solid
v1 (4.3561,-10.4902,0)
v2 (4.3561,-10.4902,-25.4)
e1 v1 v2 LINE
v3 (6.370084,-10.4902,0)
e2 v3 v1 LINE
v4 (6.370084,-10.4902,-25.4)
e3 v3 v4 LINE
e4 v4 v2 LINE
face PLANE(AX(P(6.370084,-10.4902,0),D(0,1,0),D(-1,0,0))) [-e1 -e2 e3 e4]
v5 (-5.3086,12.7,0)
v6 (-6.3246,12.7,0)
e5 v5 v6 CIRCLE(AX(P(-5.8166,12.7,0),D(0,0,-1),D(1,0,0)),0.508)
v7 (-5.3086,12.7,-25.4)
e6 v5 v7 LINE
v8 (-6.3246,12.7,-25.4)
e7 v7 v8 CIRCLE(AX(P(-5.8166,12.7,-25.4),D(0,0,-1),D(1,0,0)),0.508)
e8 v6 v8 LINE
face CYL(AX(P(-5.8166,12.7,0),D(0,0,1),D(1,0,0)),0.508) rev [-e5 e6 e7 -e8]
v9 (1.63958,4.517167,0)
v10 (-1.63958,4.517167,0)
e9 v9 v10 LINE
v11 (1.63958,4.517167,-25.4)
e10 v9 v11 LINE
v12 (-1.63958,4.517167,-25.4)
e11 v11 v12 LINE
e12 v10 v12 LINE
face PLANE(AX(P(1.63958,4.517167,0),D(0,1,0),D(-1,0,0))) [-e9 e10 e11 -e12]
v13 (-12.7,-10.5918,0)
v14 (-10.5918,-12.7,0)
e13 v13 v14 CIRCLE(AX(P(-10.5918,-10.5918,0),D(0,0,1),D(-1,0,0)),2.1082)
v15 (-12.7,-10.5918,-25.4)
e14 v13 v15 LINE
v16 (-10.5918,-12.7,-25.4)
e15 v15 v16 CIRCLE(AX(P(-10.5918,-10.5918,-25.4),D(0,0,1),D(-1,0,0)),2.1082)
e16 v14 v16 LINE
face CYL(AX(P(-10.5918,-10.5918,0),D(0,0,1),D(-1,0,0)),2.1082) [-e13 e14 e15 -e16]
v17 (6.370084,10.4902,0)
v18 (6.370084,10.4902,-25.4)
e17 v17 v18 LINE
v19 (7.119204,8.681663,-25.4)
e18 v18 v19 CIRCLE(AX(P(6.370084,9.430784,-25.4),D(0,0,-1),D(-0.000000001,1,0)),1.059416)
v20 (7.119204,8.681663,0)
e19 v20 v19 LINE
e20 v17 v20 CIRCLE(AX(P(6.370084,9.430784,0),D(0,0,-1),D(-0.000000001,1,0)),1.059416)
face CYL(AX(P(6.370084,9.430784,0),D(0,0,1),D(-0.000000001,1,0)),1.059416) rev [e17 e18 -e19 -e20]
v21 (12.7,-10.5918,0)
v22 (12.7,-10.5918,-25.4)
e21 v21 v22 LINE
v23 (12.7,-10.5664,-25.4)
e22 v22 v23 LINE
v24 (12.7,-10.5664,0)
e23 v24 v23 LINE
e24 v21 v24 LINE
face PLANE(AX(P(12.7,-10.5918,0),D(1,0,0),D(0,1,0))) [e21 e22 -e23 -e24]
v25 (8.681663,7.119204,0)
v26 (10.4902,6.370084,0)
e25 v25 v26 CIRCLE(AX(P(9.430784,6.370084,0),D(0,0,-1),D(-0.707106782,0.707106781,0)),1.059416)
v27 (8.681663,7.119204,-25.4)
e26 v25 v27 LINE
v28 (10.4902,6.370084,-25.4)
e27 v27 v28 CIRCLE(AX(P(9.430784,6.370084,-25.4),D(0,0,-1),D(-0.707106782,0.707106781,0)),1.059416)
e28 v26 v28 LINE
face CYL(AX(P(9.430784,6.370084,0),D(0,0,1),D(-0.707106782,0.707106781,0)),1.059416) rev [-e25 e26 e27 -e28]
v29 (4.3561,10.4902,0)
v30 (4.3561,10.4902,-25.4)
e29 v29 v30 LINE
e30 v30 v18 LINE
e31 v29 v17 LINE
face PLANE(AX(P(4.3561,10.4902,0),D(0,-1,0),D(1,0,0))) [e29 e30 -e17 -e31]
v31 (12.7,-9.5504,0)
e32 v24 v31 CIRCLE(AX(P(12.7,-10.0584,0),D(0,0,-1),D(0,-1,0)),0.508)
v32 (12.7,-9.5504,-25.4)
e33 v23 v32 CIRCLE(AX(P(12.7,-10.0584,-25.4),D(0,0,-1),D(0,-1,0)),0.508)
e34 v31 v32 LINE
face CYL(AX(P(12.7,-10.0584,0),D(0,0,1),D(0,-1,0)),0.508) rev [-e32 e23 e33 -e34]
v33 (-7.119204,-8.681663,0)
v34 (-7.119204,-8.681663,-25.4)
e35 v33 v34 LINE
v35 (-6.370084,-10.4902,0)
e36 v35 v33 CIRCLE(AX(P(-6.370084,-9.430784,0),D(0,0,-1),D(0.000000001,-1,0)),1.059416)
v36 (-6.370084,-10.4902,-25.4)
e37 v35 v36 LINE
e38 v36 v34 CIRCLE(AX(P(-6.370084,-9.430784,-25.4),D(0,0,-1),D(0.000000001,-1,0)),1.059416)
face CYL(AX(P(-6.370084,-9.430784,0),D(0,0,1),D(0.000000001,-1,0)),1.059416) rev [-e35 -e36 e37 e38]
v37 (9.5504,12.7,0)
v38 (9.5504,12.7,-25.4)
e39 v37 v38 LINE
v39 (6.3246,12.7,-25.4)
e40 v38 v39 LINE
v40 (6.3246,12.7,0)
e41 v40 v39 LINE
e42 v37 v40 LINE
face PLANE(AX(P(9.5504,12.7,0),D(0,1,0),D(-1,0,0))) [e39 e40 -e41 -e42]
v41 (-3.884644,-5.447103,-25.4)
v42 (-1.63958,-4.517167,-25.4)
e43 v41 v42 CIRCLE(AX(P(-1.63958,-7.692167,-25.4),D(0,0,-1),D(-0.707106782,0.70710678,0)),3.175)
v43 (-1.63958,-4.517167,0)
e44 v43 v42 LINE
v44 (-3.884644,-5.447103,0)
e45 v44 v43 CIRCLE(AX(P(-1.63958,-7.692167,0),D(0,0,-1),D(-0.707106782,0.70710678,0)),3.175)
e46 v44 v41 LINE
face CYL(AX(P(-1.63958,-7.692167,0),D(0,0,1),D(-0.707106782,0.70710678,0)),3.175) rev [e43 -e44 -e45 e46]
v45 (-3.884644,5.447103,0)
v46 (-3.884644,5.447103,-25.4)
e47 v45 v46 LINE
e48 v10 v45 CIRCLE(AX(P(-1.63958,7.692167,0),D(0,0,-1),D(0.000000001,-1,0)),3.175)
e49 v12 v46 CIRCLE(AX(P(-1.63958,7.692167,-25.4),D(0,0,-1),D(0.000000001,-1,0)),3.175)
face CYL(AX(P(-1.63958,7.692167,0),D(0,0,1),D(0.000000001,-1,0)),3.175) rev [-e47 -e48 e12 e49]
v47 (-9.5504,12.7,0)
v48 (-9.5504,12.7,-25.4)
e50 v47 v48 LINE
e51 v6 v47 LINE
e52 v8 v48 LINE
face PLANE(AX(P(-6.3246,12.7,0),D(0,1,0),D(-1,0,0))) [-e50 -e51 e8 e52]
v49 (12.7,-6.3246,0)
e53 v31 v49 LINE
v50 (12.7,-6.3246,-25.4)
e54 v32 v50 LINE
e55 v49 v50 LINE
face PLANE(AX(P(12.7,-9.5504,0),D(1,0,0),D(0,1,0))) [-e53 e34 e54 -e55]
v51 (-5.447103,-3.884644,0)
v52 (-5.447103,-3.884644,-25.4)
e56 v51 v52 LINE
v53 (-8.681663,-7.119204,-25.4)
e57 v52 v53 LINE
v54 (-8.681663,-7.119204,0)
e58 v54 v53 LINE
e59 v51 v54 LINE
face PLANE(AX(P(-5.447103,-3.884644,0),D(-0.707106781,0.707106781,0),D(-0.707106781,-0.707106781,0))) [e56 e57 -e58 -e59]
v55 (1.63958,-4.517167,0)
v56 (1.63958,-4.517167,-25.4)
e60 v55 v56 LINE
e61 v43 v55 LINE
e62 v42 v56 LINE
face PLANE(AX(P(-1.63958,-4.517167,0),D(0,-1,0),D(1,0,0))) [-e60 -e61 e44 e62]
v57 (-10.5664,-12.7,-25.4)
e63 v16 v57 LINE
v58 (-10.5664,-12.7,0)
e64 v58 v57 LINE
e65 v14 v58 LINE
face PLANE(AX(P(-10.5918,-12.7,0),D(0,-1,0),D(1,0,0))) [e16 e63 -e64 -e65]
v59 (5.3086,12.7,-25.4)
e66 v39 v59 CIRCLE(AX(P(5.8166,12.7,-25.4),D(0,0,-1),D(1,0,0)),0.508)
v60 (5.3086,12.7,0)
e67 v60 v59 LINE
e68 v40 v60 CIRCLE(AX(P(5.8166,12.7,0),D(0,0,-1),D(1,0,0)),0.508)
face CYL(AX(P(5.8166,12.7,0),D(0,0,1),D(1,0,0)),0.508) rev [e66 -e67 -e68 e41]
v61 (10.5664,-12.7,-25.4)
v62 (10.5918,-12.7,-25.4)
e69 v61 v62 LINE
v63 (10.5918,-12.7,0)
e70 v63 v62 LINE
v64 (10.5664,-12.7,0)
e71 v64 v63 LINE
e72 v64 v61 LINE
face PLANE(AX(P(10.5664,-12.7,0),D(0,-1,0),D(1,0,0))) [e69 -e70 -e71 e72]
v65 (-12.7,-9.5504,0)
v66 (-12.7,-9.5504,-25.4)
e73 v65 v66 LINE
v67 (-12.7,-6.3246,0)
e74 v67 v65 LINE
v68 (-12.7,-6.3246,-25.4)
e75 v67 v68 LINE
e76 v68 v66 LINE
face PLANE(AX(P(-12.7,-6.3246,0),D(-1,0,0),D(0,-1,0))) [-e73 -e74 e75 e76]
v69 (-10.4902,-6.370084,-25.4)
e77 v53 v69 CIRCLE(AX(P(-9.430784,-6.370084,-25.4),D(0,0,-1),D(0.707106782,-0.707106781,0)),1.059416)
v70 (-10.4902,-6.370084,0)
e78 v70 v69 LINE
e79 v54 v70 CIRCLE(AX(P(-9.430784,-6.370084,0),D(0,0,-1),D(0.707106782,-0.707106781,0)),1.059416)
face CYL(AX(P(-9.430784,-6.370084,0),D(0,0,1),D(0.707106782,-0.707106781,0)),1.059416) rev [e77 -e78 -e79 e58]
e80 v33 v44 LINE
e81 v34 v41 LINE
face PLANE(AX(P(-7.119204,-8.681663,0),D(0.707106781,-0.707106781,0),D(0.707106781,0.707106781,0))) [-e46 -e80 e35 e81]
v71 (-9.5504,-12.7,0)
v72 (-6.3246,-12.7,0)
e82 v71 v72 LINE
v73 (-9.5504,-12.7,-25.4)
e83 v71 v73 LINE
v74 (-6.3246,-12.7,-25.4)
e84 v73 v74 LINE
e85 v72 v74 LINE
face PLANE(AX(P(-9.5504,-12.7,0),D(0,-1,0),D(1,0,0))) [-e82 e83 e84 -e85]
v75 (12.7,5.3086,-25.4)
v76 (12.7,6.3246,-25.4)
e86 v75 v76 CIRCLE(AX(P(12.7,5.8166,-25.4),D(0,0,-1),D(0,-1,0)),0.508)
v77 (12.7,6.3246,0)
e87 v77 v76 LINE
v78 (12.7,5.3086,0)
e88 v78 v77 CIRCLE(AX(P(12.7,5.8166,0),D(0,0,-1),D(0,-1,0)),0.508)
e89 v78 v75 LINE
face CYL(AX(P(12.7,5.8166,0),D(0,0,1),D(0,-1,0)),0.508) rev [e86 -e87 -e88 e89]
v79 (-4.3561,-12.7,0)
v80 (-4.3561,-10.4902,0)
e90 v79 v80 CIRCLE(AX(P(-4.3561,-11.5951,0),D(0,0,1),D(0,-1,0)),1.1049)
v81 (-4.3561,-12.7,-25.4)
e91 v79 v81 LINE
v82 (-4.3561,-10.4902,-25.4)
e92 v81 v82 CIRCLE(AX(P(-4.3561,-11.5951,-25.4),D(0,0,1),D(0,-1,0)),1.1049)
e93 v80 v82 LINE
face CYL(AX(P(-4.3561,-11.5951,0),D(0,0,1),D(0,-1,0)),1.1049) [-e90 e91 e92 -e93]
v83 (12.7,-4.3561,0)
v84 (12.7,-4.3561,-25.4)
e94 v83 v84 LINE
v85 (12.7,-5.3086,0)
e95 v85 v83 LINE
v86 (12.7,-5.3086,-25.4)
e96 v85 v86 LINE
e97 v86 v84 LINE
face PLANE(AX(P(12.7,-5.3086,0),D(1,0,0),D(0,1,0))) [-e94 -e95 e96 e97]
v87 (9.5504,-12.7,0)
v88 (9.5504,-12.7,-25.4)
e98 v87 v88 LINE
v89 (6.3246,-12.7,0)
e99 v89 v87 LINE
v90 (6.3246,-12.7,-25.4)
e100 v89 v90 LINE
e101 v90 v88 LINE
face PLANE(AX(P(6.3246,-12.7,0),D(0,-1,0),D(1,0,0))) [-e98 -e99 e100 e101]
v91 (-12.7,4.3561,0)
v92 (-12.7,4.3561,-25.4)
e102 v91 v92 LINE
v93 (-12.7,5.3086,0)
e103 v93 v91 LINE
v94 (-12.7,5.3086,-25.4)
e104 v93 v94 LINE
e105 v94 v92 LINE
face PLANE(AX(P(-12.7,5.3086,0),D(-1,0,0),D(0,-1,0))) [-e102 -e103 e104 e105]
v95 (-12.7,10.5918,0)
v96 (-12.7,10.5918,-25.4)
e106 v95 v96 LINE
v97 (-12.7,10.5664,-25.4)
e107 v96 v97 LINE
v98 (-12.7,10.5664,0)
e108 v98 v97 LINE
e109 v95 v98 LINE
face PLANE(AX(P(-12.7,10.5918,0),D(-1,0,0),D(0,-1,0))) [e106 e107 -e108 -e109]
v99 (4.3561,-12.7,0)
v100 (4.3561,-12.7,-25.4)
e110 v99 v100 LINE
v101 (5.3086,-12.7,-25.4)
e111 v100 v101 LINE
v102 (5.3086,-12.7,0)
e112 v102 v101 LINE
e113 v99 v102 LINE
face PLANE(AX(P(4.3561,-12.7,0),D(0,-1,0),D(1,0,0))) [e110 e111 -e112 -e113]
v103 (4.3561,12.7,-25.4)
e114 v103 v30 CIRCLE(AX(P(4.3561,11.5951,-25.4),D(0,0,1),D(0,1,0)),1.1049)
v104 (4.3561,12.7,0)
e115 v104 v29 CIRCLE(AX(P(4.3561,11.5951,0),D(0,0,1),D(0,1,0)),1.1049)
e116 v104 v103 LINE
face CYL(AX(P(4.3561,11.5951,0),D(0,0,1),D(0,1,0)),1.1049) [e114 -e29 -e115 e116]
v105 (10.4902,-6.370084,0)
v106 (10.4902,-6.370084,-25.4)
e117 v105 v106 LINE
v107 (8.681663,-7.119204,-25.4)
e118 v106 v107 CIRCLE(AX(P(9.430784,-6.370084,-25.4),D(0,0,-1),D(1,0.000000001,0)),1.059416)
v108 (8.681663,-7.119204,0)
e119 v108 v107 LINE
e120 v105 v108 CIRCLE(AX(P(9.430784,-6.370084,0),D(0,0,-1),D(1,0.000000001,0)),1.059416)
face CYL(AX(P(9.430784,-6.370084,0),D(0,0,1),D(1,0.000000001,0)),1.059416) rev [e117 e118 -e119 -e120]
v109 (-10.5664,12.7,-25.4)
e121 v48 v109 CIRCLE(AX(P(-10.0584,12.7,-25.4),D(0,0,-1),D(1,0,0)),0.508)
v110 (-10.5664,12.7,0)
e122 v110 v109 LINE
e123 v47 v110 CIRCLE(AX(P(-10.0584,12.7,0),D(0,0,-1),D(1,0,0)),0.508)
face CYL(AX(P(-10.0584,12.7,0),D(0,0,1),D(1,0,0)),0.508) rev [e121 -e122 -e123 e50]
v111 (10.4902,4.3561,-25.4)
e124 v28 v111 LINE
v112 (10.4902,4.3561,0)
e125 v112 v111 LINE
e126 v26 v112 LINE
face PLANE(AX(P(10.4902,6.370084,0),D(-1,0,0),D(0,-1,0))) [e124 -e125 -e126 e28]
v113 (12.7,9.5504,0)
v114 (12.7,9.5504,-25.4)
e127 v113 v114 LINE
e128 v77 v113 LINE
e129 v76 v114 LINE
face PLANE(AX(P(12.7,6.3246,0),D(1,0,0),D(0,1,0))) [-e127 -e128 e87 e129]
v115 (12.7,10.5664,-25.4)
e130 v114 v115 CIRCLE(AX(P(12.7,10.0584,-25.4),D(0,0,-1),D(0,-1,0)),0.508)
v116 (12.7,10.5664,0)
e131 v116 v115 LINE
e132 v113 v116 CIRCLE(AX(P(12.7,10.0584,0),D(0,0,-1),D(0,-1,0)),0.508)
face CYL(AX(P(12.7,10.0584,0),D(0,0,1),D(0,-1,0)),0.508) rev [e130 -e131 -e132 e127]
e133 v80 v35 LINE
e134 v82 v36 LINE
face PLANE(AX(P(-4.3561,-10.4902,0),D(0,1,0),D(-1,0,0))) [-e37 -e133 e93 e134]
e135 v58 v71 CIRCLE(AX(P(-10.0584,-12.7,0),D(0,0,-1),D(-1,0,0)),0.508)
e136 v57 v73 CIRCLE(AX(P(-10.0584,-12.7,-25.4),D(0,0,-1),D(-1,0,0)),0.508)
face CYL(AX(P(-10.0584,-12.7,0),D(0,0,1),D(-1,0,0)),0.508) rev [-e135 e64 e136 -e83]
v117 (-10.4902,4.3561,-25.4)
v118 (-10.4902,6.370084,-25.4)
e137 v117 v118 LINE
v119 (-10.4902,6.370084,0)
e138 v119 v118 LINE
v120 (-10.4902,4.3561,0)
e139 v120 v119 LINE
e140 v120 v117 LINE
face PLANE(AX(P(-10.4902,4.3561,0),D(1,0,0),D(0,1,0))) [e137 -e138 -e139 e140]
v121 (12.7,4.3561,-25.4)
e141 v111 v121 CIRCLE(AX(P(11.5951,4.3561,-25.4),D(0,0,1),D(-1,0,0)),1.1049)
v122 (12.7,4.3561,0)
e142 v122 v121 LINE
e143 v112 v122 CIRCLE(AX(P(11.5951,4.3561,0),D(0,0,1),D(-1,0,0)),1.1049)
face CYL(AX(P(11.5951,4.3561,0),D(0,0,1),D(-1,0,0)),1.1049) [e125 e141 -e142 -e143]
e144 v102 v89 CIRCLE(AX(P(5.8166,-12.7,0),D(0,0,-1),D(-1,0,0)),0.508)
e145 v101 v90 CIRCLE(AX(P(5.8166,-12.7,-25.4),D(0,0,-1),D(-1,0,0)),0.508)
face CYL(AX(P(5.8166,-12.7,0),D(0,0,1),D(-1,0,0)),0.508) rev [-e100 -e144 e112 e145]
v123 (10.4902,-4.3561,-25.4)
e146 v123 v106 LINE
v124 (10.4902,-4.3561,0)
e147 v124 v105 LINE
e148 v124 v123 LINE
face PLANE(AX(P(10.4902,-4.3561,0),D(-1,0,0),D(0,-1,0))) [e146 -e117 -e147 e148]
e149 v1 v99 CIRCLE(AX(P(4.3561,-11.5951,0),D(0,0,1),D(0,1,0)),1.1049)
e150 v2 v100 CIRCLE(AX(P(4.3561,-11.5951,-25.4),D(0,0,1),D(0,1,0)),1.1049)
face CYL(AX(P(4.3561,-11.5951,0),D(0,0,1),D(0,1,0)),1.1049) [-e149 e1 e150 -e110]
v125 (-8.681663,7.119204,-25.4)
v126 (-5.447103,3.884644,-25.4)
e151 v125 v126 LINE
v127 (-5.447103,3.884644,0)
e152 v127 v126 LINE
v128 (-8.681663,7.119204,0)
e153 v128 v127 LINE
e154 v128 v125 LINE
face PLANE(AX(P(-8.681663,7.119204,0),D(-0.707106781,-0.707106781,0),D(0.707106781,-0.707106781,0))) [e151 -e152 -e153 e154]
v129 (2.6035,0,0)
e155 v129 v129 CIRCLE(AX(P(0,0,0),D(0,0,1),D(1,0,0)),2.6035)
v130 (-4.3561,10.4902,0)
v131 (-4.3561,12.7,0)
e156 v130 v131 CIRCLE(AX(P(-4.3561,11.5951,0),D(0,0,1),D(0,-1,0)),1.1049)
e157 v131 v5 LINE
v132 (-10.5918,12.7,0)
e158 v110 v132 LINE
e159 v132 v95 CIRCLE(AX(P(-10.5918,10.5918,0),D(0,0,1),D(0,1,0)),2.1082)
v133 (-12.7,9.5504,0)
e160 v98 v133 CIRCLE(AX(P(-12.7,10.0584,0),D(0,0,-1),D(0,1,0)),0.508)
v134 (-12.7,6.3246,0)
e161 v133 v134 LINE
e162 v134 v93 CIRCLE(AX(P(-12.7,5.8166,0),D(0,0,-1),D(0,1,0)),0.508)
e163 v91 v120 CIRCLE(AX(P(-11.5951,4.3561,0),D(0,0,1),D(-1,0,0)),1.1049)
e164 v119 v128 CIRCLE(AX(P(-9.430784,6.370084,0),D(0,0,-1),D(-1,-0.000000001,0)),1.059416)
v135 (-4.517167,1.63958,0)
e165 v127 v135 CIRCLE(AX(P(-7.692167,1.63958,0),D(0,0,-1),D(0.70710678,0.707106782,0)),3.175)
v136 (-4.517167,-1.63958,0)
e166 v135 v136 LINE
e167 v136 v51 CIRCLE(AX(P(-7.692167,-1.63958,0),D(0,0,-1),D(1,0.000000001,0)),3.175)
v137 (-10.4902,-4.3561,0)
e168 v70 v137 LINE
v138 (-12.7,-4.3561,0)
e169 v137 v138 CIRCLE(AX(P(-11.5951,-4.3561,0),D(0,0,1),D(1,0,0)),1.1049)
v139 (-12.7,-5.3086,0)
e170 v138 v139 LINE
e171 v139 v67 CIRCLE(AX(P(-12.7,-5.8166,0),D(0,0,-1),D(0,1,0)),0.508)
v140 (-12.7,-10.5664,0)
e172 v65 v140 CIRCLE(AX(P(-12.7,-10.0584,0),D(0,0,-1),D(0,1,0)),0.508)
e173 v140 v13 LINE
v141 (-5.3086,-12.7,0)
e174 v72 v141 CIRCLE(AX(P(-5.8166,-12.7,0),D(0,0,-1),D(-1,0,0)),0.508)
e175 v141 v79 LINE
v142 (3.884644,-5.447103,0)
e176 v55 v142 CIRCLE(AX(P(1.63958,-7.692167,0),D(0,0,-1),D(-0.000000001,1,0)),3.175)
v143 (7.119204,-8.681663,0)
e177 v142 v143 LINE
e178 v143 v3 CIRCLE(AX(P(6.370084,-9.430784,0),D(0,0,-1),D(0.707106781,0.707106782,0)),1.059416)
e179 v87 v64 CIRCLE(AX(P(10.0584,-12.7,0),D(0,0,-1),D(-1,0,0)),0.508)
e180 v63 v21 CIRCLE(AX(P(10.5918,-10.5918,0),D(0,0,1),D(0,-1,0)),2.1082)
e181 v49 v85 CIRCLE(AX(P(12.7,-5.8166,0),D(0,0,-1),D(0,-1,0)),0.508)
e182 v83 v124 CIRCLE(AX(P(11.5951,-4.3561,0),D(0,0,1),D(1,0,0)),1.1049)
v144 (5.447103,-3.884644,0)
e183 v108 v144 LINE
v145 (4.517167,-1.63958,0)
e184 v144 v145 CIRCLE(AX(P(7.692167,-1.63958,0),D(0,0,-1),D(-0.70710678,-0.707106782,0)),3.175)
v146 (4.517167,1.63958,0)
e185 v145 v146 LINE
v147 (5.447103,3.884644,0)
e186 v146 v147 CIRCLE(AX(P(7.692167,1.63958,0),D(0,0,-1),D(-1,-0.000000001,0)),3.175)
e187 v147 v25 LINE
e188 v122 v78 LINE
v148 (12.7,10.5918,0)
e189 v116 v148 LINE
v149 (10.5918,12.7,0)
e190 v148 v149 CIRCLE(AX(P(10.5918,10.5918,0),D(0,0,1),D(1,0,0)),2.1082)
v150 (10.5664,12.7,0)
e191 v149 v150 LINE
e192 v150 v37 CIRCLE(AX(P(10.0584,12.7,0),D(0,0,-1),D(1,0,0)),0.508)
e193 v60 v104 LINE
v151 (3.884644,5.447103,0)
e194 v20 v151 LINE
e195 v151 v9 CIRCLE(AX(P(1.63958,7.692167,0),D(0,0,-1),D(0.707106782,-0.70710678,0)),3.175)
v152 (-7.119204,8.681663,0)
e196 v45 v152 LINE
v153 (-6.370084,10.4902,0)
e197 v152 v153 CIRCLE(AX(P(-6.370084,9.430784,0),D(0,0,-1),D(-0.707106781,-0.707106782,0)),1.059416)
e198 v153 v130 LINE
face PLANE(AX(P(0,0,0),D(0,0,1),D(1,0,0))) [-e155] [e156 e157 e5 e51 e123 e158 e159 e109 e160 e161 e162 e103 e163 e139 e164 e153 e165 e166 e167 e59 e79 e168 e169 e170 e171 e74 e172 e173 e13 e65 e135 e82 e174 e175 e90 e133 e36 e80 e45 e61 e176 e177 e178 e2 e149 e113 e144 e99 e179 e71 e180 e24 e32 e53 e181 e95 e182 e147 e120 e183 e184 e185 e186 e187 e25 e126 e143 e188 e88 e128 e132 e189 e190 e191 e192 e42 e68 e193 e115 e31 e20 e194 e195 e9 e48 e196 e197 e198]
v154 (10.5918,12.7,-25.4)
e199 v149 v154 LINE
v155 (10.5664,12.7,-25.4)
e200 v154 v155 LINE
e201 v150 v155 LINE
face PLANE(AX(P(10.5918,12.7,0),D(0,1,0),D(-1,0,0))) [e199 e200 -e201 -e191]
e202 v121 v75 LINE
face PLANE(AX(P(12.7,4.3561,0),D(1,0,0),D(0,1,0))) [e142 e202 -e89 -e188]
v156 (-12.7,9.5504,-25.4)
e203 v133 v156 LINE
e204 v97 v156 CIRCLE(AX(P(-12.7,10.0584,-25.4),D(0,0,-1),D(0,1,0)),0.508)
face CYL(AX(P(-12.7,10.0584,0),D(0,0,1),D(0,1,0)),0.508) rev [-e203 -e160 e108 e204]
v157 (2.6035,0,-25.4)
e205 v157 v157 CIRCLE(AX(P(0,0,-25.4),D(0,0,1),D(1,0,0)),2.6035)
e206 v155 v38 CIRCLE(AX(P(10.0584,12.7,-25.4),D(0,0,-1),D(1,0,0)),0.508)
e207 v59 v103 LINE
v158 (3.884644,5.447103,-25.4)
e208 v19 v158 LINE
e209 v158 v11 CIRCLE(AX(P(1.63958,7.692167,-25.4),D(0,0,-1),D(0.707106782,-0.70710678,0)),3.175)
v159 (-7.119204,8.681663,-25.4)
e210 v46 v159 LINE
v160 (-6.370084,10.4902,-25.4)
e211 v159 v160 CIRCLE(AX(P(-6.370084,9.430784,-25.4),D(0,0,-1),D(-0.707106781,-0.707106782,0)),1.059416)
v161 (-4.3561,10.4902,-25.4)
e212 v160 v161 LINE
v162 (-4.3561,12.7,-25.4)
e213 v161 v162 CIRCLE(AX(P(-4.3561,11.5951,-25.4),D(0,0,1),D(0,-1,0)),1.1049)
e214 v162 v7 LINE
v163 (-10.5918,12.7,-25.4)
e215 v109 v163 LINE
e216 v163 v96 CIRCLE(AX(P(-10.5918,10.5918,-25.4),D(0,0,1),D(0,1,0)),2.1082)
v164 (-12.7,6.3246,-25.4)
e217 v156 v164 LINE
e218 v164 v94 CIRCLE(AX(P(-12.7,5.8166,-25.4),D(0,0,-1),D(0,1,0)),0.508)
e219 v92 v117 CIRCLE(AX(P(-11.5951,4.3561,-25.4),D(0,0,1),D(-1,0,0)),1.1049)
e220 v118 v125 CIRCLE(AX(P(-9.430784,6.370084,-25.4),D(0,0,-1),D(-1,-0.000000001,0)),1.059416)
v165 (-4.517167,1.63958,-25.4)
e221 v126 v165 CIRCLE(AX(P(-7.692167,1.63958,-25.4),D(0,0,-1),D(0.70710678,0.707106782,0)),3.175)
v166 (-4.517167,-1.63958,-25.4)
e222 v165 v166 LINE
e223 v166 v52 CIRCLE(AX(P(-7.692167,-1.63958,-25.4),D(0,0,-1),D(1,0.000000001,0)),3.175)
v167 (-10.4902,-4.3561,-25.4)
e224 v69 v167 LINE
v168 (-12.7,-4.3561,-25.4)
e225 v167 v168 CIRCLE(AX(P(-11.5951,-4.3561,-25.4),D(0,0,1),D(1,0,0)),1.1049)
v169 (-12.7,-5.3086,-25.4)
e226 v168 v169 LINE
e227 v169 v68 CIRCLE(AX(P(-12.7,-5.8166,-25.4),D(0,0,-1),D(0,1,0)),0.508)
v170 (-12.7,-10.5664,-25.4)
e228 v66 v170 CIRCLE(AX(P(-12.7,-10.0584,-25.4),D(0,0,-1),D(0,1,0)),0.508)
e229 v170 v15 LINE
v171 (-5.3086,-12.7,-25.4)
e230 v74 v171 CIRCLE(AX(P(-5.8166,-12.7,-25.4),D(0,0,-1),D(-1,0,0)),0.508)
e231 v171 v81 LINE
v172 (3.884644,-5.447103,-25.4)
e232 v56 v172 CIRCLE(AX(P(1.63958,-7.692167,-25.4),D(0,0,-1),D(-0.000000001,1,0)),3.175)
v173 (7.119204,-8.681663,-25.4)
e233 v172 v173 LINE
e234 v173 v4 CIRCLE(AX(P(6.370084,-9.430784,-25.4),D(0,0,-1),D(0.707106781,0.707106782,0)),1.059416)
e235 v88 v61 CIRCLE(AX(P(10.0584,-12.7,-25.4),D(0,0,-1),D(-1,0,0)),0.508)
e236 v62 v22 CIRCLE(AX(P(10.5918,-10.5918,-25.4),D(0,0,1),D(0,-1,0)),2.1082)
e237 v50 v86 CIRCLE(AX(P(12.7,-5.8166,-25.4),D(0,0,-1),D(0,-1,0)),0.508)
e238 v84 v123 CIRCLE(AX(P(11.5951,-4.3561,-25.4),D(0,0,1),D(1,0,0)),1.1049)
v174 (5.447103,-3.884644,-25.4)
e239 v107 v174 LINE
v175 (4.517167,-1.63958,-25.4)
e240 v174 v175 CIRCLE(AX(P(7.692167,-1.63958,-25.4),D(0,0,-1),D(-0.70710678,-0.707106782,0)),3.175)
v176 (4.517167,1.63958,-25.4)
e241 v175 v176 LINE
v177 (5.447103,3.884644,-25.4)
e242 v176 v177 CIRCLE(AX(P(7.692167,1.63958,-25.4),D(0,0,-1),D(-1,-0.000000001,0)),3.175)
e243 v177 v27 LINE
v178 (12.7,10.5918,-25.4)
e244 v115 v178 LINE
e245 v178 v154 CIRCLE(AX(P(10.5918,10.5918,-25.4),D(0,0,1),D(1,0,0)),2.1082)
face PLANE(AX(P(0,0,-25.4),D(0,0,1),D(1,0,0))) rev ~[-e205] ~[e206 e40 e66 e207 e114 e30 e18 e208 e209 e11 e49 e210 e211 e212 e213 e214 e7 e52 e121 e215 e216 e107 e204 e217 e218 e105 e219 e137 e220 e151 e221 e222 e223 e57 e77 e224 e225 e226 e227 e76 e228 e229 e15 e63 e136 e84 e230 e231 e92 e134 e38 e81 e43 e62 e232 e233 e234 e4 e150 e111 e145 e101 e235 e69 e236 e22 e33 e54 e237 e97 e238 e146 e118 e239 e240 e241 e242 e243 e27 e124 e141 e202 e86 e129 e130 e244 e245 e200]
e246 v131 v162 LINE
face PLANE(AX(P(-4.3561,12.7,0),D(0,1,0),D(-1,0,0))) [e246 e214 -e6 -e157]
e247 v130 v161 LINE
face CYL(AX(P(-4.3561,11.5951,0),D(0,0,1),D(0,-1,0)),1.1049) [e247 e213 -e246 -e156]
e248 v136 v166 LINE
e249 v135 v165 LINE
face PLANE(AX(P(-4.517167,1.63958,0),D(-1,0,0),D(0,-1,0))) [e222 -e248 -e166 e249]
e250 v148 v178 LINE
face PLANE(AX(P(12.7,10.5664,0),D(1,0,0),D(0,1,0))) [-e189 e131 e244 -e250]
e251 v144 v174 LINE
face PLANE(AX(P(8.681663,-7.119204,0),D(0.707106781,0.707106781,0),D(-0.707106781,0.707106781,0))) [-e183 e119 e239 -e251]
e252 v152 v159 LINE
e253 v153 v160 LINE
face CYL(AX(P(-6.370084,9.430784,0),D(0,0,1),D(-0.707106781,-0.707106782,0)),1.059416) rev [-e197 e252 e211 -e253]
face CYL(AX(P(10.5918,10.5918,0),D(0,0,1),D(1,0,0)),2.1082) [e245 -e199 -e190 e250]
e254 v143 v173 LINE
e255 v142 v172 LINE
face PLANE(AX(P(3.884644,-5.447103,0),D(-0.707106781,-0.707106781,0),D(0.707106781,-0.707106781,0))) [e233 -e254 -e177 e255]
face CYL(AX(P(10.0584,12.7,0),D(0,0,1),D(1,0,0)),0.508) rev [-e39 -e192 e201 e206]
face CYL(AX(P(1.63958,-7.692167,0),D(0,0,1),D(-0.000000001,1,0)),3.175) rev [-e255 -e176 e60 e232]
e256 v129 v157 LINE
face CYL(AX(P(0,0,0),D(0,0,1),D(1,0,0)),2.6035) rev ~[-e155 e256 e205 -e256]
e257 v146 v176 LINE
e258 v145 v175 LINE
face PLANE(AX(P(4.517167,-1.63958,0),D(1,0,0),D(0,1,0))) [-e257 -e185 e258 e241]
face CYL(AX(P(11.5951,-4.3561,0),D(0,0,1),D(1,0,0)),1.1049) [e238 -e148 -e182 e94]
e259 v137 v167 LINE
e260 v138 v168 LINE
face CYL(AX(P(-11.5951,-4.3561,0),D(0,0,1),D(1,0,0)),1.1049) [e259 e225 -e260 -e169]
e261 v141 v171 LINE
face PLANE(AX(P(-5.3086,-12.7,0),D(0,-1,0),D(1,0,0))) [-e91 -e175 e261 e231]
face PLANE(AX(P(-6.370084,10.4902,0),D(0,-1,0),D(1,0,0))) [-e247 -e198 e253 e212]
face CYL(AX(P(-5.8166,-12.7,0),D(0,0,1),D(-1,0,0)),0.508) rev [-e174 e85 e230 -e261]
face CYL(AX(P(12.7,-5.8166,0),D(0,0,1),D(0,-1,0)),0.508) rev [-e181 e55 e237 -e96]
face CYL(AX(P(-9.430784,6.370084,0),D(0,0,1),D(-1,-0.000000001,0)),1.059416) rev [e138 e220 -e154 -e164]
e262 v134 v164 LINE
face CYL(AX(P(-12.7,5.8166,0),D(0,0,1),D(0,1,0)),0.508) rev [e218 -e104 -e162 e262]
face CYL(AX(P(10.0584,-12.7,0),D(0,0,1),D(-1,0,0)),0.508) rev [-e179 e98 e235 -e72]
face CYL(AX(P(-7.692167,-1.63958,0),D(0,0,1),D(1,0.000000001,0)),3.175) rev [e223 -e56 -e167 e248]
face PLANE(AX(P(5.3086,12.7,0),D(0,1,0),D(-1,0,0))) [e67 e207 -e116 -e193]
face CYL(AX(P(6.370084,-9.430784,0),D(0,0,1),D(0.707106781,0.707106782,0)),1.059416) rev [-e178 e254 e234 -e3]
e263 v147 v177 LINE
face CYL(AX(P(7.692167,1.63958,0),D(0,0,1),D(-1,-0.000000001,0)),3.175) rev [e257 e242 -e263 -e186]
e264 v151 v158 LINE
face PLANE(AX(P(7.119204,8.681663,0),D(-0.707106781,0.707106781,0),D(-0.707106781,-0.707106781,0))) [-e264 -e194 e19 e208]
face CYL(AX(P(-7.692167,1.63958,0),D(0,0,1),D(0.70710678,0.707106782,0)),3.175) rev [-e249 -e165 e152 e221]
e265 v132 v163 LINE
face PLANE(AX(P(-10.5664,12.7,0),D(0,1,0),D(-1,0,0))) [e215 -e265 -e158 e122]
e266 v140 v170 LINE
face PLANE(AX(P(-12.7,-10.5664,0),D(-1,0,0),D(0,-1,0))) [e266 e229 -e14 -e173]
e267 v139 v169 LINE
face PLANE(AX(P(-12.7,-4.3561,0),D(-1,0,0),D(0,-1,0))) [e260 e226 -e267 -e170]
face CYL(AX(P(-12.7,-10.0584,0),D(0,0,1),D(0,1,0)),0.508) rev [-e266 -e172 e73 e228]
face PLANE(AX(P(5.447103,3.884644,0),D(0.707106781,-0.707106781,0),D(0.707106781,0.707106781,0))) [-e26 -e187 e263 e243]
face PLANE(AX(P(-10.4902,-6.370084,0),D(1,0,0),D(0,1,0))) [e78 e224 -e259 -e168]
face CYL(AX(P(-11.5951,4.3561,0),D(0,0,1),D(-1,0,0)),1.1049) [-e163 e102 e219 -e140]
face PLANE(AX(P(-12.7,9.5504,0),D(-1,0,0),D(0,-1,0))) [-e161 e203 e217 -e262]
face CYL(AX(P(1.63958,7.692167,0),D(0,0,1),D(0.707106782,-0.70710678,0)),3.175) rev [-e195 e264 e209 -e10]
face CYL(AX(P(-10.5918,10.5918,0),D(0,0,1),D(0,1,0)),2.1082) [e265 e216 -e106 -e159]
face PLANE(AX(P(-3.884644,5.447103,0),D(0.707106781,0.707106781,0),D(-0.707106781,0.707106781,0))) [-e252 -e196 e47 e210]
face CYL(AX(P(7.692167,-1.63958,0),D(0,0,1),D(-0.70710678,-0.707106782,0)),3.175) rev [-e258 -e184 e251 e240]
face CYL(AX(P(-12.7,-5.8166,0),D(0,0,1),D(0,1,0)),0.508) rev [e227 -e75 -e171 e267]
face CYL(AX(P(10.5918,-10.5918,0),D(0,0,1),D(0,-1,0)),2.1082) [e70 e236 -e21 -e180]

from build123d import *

# Parameters (mm, degrees)
SKETCH1_R      = 2.6035
EXTRUDE1_DEPTH = 25.4


with BuildPart() as part:
    # Sketch1 → Extrude1 (new body)
    with BuildSketch(Plane.XY):
        with BuildLine():
            Line((10.5918, 12.7), (10.5664, 12.7))
            ThreePointArc((10.5664, 12.7), (10.0584, 12.192), (9.5504, 12.7))
            Line((9.5504, 12.7), (6.3246, 12.7))
            ThreePointArc((6.3246, 12.7), (5.8166, 12.192), (5.3086, 12.7))
            Line((5.3086, 12.7), (4.3561, 12.7))
            ThreePointArc((4.3561, 12.7), (3.2512, 11.5951), (4.3561, 10.4902))
            Line((4.3561, 10.4902), (6.370083786, 10.4902))
            ThreePointArc((6.370083786, 10.4902), (7.348856743, 9.836204819), (7.119204175, 8.681663397))
            Line((7.119204175, 8.681663397), (3.88464389, 5.447103113))
            ThreePointArc((3.88464389, 5.447103113), (2.854599758, 4.758849627), (1.63957986, 4.517167143))
            Line((1.63957986, 4.517167143), (-1.63957986, 4.517167143))
            ThreePointArc((-1.63957986, 4.517167143), (-2.854599758, 4.758849627), (-3.88464389, 5.447103113))
            Line((-3.88464389, 5.447103113), (-7.119204175, 8.681663397))
            ThreePointArc((-7.119204175, 8.681663397), (-7.348856743, 9.836204819), (-6.370083786, 10.4902))
            Line((-6.370083786, 10.4902), (-4.3561, 10.4902))
            ThreePointArc((-4.3561, 10.4902), (-3.2512, 11.5951), (-4.3561, 12.7))
            Line((-4.3561, 12.7), (-5.3086, 12.7))
            ThreePointArc((-5.3086, 12.7), (-5.8166, 12.192), (-6.3246, 12.7))
            Line((-6.3246, 12.7), (-9.5504, 12.7))
            ThreePointArc((-9.5504, 12.7), (-10.0584, 12.192), (-10.5664, 12.7))
            Line((-10.5664, 12.7), (-10.5918, 12.7))
            ThreePointArc((-10.5918, 12.7), (-12.082522516, 12.082522516), (-12.7, 10.5918))
            Line((-12.7, 10.5918), (-12.7, 10.5664))
            ThreePointArc((-12.7, 10.5664), (-12.192, 10.0584), (-12.7, 9.5504))
            Line((-12.7, 9.5504), (-12.7, 6.3246))
            ThreePointArc((-12.7, 6.3246), (-12.192, 5.8166), (-12.7, 5.3086))
            Line((-12.7, 5.3086), (-12.7, 4.3561))
            ThreePointArc((-12.7, 4.3561), (-11.5951, 3.2512), (-10.4902, 4.3561))
            Line((-10.4902, 4.3561), (-10.4902, 6.370083786))
            ThreePointArc((-10.4902, 6.370083786), (-9.836204819, 7.348856743), (-8.681663397, 7.119204175))
            Line((-8.681663397, 7.119204175), (-5.447103113, 3.88464389))
            ThreePointArc((-5.447103113, 3.88464389), (-4.758849627, 2.854599758), (-4.517167143, 1.63957986))
            Line((-4.517167143, 1.63957986), (-4.517167143, -1.63957986))
            ThreePointArc((-4.517167143, -1.63957986), (-4.758849627, -2.854599758), (-5.447103113, -3.88464389))
            Line((-5.447103113, -3.88464389), (-8.681663397, -7.119204175))
            ThreePointArc((-8.681663397, -7.119204175), (-9.836204819, -7.348856743), (-10.4902, -6.370083786))
            Line((-10.4902, -6.370083786), (-10.4902, -4.3561))
            ThreePointArc((-10.4902, -4.3561), (-11.5951, -3.2512), (-12.7, -4.3561))
            Line((-12.7, -4.3561), (-12.7, -5.3086))
            ThreePointArc((-12.7, -5.3086), (-12.192, -5.8166), (-12.7, -6.3246))
            Line((-12.7, -6.3246), (-12.7, -9.5504))
            ThreePointArc((-12.7, -9.5504), (-12.192, -10.0584), (-12.7, -10.5664))
            Line((-12.7, -10.5664), (-12.7, -10.5918))
            ThreePointArc((-12.7, -10.5918), (-12.082522516, -12.082522516), (-10.5918, -12.7))
            Line((-10.5918, -12.7), (-10.5664, -12.7))
            ThreePointArc((-10.5664, -12.7), (-10.0584, -12.192), (-9.5504, -12.7))
            Line((-9.5504, -12.7), (-6.3246, -12.7))
            ThreePointArc((-6.3246, -12.7), (-5.8166, -12.192), (-5.3086, -12.7))
            Line((-5.3086, -12.7), (-4.3561, -12.7))
            ThreePointArc((-4.3561, -12.7), (-3.2512, -11.5951), (-4.3561, -10.4902))
            Line((-4.3561, -10.4902), (-6.370083786, -10.4902))
            ThreePointArc((-6.370083786, -10.4902), (-7.348856743, -9.836204819), (-7.119204175, -8.681663397))
            Line((-7.119204175, -8.681663397), (-3.88464389, -5.447103113))
            ThreePointArc((-3.88464389, -5.447103113), (-2.854599758, -4.758849627), (-1.63957986, -4.517167143))
            Line((-1.63957986, -4.517167143), (1.63957986, -4.517167143))
            ThreePointArc((1.63957986, -4.517167143), (2.854599758, -4.758849627), (3.88464389, -5.447103113))
            Line((3.88464389, -5.447103113), (7.119204175, -8.681663397))
            ThreePointArc((7.119204175, -8.681663397), (7.348856743, -9.836204819), (6.370083786, -10.4902))
            Line((6.370083786, -10.4902), (4.3561, -10.4902))
            ThreePointArc((4.3561, -10.4902), (3.2512, -11.5951), (4.3561, -12.7))
            Line((4.3561, -12.7), (5.3086, -12.7))
            ThreePointArc((5.3086, -12.7), (5.8166, -12.192), (6.3246, -12.7))
            Line((6.3246, -12.7), (9.5504, -12.7))
            ThreePointArc((9.5504, -12.7), (10.0584, -12.192), (10.5664, -12.7))
            Line((10.5664, -12.7), (10.5918, -12.7))
            ThreePointArc((10.5918, -12.7), (12.082522516, -12.082522516), (12.7, -10.5918))
            Line((12.7, -10.5918), (12.7, -10.5664))
            ThreePointArc((12.7, -10.5664), (12.192, -10.0584), (12.7, -9.5504))
            Line((12.7, -9.5504), (12.7, -6.3246))
            ThreePointArc((12.7, -6.3246), (12.192, -5.8166), (12.7, -5.3086))
            Line((12.7, -5.3086), (12.7, -4.3561))
            ThreePointArc((12.7, -4.3561), (11.5951, -3.2512), (10.4902, -4.3561))
            Line((10.4902, -4.3561), (10.4902, -6.370083786))
            ThreePointArc((10.4902, -6.370083786), (9.836204819, -7.348856743), (8.681663397, -7.119204175))
            Line((8.681663397, -7.119204175), (5.447103113, -3.88464389))
            ThreePointArc((5.447103113, -3.88464389), (4.758849627, -2.854599758), (4.517167143, -1.63957986))
            Line((4.517167143, -1.63957986), (4.517167143, 1.63957986))
            ThreePointArc((4.517167143, 1.63957986), (4.758849627, 2.854599758), (5.447103113, 3.88464389))
            Line((5.447103113, 3.88464389), (8.681663397, 7.119204175))
            ThreePointArc((8.681663397, 7.119204175), (9.836204819, 7.348856743), (10.4902, 6.370083786))
            Line((10.4902, 6.370083786), (10.4902, 4.3561))
            ThreePointArc((10.4902, 4.3561), (11.5951, 3.2512), (12.7, 4.3561))
            Line((12.7, 4.3561), (12.7, 5.3086))
            ThreePointArc((12.7, 5.3086), (12.192, 5.8166), (12.7, 6.3246))
            Line((12.7, 6.3246), (12.7, 9.5504))
            ThreePointArc((12.7, 9.5504), (12.192, 10.0584), (12.7, 10.5664))
            Line((12.7, 10.5664), (12.7, 10.5918))
            ThreePointArc((12.7, 10.5918), (12.082522516, 12.082522516), (10.5918, 12.7))
        make_face()
        Circle(SKETCH1_R, mode=Mode.SUBTRACT)
    extrude(amount=-EXTRUDE1_DEPTH)


solid = part.part
